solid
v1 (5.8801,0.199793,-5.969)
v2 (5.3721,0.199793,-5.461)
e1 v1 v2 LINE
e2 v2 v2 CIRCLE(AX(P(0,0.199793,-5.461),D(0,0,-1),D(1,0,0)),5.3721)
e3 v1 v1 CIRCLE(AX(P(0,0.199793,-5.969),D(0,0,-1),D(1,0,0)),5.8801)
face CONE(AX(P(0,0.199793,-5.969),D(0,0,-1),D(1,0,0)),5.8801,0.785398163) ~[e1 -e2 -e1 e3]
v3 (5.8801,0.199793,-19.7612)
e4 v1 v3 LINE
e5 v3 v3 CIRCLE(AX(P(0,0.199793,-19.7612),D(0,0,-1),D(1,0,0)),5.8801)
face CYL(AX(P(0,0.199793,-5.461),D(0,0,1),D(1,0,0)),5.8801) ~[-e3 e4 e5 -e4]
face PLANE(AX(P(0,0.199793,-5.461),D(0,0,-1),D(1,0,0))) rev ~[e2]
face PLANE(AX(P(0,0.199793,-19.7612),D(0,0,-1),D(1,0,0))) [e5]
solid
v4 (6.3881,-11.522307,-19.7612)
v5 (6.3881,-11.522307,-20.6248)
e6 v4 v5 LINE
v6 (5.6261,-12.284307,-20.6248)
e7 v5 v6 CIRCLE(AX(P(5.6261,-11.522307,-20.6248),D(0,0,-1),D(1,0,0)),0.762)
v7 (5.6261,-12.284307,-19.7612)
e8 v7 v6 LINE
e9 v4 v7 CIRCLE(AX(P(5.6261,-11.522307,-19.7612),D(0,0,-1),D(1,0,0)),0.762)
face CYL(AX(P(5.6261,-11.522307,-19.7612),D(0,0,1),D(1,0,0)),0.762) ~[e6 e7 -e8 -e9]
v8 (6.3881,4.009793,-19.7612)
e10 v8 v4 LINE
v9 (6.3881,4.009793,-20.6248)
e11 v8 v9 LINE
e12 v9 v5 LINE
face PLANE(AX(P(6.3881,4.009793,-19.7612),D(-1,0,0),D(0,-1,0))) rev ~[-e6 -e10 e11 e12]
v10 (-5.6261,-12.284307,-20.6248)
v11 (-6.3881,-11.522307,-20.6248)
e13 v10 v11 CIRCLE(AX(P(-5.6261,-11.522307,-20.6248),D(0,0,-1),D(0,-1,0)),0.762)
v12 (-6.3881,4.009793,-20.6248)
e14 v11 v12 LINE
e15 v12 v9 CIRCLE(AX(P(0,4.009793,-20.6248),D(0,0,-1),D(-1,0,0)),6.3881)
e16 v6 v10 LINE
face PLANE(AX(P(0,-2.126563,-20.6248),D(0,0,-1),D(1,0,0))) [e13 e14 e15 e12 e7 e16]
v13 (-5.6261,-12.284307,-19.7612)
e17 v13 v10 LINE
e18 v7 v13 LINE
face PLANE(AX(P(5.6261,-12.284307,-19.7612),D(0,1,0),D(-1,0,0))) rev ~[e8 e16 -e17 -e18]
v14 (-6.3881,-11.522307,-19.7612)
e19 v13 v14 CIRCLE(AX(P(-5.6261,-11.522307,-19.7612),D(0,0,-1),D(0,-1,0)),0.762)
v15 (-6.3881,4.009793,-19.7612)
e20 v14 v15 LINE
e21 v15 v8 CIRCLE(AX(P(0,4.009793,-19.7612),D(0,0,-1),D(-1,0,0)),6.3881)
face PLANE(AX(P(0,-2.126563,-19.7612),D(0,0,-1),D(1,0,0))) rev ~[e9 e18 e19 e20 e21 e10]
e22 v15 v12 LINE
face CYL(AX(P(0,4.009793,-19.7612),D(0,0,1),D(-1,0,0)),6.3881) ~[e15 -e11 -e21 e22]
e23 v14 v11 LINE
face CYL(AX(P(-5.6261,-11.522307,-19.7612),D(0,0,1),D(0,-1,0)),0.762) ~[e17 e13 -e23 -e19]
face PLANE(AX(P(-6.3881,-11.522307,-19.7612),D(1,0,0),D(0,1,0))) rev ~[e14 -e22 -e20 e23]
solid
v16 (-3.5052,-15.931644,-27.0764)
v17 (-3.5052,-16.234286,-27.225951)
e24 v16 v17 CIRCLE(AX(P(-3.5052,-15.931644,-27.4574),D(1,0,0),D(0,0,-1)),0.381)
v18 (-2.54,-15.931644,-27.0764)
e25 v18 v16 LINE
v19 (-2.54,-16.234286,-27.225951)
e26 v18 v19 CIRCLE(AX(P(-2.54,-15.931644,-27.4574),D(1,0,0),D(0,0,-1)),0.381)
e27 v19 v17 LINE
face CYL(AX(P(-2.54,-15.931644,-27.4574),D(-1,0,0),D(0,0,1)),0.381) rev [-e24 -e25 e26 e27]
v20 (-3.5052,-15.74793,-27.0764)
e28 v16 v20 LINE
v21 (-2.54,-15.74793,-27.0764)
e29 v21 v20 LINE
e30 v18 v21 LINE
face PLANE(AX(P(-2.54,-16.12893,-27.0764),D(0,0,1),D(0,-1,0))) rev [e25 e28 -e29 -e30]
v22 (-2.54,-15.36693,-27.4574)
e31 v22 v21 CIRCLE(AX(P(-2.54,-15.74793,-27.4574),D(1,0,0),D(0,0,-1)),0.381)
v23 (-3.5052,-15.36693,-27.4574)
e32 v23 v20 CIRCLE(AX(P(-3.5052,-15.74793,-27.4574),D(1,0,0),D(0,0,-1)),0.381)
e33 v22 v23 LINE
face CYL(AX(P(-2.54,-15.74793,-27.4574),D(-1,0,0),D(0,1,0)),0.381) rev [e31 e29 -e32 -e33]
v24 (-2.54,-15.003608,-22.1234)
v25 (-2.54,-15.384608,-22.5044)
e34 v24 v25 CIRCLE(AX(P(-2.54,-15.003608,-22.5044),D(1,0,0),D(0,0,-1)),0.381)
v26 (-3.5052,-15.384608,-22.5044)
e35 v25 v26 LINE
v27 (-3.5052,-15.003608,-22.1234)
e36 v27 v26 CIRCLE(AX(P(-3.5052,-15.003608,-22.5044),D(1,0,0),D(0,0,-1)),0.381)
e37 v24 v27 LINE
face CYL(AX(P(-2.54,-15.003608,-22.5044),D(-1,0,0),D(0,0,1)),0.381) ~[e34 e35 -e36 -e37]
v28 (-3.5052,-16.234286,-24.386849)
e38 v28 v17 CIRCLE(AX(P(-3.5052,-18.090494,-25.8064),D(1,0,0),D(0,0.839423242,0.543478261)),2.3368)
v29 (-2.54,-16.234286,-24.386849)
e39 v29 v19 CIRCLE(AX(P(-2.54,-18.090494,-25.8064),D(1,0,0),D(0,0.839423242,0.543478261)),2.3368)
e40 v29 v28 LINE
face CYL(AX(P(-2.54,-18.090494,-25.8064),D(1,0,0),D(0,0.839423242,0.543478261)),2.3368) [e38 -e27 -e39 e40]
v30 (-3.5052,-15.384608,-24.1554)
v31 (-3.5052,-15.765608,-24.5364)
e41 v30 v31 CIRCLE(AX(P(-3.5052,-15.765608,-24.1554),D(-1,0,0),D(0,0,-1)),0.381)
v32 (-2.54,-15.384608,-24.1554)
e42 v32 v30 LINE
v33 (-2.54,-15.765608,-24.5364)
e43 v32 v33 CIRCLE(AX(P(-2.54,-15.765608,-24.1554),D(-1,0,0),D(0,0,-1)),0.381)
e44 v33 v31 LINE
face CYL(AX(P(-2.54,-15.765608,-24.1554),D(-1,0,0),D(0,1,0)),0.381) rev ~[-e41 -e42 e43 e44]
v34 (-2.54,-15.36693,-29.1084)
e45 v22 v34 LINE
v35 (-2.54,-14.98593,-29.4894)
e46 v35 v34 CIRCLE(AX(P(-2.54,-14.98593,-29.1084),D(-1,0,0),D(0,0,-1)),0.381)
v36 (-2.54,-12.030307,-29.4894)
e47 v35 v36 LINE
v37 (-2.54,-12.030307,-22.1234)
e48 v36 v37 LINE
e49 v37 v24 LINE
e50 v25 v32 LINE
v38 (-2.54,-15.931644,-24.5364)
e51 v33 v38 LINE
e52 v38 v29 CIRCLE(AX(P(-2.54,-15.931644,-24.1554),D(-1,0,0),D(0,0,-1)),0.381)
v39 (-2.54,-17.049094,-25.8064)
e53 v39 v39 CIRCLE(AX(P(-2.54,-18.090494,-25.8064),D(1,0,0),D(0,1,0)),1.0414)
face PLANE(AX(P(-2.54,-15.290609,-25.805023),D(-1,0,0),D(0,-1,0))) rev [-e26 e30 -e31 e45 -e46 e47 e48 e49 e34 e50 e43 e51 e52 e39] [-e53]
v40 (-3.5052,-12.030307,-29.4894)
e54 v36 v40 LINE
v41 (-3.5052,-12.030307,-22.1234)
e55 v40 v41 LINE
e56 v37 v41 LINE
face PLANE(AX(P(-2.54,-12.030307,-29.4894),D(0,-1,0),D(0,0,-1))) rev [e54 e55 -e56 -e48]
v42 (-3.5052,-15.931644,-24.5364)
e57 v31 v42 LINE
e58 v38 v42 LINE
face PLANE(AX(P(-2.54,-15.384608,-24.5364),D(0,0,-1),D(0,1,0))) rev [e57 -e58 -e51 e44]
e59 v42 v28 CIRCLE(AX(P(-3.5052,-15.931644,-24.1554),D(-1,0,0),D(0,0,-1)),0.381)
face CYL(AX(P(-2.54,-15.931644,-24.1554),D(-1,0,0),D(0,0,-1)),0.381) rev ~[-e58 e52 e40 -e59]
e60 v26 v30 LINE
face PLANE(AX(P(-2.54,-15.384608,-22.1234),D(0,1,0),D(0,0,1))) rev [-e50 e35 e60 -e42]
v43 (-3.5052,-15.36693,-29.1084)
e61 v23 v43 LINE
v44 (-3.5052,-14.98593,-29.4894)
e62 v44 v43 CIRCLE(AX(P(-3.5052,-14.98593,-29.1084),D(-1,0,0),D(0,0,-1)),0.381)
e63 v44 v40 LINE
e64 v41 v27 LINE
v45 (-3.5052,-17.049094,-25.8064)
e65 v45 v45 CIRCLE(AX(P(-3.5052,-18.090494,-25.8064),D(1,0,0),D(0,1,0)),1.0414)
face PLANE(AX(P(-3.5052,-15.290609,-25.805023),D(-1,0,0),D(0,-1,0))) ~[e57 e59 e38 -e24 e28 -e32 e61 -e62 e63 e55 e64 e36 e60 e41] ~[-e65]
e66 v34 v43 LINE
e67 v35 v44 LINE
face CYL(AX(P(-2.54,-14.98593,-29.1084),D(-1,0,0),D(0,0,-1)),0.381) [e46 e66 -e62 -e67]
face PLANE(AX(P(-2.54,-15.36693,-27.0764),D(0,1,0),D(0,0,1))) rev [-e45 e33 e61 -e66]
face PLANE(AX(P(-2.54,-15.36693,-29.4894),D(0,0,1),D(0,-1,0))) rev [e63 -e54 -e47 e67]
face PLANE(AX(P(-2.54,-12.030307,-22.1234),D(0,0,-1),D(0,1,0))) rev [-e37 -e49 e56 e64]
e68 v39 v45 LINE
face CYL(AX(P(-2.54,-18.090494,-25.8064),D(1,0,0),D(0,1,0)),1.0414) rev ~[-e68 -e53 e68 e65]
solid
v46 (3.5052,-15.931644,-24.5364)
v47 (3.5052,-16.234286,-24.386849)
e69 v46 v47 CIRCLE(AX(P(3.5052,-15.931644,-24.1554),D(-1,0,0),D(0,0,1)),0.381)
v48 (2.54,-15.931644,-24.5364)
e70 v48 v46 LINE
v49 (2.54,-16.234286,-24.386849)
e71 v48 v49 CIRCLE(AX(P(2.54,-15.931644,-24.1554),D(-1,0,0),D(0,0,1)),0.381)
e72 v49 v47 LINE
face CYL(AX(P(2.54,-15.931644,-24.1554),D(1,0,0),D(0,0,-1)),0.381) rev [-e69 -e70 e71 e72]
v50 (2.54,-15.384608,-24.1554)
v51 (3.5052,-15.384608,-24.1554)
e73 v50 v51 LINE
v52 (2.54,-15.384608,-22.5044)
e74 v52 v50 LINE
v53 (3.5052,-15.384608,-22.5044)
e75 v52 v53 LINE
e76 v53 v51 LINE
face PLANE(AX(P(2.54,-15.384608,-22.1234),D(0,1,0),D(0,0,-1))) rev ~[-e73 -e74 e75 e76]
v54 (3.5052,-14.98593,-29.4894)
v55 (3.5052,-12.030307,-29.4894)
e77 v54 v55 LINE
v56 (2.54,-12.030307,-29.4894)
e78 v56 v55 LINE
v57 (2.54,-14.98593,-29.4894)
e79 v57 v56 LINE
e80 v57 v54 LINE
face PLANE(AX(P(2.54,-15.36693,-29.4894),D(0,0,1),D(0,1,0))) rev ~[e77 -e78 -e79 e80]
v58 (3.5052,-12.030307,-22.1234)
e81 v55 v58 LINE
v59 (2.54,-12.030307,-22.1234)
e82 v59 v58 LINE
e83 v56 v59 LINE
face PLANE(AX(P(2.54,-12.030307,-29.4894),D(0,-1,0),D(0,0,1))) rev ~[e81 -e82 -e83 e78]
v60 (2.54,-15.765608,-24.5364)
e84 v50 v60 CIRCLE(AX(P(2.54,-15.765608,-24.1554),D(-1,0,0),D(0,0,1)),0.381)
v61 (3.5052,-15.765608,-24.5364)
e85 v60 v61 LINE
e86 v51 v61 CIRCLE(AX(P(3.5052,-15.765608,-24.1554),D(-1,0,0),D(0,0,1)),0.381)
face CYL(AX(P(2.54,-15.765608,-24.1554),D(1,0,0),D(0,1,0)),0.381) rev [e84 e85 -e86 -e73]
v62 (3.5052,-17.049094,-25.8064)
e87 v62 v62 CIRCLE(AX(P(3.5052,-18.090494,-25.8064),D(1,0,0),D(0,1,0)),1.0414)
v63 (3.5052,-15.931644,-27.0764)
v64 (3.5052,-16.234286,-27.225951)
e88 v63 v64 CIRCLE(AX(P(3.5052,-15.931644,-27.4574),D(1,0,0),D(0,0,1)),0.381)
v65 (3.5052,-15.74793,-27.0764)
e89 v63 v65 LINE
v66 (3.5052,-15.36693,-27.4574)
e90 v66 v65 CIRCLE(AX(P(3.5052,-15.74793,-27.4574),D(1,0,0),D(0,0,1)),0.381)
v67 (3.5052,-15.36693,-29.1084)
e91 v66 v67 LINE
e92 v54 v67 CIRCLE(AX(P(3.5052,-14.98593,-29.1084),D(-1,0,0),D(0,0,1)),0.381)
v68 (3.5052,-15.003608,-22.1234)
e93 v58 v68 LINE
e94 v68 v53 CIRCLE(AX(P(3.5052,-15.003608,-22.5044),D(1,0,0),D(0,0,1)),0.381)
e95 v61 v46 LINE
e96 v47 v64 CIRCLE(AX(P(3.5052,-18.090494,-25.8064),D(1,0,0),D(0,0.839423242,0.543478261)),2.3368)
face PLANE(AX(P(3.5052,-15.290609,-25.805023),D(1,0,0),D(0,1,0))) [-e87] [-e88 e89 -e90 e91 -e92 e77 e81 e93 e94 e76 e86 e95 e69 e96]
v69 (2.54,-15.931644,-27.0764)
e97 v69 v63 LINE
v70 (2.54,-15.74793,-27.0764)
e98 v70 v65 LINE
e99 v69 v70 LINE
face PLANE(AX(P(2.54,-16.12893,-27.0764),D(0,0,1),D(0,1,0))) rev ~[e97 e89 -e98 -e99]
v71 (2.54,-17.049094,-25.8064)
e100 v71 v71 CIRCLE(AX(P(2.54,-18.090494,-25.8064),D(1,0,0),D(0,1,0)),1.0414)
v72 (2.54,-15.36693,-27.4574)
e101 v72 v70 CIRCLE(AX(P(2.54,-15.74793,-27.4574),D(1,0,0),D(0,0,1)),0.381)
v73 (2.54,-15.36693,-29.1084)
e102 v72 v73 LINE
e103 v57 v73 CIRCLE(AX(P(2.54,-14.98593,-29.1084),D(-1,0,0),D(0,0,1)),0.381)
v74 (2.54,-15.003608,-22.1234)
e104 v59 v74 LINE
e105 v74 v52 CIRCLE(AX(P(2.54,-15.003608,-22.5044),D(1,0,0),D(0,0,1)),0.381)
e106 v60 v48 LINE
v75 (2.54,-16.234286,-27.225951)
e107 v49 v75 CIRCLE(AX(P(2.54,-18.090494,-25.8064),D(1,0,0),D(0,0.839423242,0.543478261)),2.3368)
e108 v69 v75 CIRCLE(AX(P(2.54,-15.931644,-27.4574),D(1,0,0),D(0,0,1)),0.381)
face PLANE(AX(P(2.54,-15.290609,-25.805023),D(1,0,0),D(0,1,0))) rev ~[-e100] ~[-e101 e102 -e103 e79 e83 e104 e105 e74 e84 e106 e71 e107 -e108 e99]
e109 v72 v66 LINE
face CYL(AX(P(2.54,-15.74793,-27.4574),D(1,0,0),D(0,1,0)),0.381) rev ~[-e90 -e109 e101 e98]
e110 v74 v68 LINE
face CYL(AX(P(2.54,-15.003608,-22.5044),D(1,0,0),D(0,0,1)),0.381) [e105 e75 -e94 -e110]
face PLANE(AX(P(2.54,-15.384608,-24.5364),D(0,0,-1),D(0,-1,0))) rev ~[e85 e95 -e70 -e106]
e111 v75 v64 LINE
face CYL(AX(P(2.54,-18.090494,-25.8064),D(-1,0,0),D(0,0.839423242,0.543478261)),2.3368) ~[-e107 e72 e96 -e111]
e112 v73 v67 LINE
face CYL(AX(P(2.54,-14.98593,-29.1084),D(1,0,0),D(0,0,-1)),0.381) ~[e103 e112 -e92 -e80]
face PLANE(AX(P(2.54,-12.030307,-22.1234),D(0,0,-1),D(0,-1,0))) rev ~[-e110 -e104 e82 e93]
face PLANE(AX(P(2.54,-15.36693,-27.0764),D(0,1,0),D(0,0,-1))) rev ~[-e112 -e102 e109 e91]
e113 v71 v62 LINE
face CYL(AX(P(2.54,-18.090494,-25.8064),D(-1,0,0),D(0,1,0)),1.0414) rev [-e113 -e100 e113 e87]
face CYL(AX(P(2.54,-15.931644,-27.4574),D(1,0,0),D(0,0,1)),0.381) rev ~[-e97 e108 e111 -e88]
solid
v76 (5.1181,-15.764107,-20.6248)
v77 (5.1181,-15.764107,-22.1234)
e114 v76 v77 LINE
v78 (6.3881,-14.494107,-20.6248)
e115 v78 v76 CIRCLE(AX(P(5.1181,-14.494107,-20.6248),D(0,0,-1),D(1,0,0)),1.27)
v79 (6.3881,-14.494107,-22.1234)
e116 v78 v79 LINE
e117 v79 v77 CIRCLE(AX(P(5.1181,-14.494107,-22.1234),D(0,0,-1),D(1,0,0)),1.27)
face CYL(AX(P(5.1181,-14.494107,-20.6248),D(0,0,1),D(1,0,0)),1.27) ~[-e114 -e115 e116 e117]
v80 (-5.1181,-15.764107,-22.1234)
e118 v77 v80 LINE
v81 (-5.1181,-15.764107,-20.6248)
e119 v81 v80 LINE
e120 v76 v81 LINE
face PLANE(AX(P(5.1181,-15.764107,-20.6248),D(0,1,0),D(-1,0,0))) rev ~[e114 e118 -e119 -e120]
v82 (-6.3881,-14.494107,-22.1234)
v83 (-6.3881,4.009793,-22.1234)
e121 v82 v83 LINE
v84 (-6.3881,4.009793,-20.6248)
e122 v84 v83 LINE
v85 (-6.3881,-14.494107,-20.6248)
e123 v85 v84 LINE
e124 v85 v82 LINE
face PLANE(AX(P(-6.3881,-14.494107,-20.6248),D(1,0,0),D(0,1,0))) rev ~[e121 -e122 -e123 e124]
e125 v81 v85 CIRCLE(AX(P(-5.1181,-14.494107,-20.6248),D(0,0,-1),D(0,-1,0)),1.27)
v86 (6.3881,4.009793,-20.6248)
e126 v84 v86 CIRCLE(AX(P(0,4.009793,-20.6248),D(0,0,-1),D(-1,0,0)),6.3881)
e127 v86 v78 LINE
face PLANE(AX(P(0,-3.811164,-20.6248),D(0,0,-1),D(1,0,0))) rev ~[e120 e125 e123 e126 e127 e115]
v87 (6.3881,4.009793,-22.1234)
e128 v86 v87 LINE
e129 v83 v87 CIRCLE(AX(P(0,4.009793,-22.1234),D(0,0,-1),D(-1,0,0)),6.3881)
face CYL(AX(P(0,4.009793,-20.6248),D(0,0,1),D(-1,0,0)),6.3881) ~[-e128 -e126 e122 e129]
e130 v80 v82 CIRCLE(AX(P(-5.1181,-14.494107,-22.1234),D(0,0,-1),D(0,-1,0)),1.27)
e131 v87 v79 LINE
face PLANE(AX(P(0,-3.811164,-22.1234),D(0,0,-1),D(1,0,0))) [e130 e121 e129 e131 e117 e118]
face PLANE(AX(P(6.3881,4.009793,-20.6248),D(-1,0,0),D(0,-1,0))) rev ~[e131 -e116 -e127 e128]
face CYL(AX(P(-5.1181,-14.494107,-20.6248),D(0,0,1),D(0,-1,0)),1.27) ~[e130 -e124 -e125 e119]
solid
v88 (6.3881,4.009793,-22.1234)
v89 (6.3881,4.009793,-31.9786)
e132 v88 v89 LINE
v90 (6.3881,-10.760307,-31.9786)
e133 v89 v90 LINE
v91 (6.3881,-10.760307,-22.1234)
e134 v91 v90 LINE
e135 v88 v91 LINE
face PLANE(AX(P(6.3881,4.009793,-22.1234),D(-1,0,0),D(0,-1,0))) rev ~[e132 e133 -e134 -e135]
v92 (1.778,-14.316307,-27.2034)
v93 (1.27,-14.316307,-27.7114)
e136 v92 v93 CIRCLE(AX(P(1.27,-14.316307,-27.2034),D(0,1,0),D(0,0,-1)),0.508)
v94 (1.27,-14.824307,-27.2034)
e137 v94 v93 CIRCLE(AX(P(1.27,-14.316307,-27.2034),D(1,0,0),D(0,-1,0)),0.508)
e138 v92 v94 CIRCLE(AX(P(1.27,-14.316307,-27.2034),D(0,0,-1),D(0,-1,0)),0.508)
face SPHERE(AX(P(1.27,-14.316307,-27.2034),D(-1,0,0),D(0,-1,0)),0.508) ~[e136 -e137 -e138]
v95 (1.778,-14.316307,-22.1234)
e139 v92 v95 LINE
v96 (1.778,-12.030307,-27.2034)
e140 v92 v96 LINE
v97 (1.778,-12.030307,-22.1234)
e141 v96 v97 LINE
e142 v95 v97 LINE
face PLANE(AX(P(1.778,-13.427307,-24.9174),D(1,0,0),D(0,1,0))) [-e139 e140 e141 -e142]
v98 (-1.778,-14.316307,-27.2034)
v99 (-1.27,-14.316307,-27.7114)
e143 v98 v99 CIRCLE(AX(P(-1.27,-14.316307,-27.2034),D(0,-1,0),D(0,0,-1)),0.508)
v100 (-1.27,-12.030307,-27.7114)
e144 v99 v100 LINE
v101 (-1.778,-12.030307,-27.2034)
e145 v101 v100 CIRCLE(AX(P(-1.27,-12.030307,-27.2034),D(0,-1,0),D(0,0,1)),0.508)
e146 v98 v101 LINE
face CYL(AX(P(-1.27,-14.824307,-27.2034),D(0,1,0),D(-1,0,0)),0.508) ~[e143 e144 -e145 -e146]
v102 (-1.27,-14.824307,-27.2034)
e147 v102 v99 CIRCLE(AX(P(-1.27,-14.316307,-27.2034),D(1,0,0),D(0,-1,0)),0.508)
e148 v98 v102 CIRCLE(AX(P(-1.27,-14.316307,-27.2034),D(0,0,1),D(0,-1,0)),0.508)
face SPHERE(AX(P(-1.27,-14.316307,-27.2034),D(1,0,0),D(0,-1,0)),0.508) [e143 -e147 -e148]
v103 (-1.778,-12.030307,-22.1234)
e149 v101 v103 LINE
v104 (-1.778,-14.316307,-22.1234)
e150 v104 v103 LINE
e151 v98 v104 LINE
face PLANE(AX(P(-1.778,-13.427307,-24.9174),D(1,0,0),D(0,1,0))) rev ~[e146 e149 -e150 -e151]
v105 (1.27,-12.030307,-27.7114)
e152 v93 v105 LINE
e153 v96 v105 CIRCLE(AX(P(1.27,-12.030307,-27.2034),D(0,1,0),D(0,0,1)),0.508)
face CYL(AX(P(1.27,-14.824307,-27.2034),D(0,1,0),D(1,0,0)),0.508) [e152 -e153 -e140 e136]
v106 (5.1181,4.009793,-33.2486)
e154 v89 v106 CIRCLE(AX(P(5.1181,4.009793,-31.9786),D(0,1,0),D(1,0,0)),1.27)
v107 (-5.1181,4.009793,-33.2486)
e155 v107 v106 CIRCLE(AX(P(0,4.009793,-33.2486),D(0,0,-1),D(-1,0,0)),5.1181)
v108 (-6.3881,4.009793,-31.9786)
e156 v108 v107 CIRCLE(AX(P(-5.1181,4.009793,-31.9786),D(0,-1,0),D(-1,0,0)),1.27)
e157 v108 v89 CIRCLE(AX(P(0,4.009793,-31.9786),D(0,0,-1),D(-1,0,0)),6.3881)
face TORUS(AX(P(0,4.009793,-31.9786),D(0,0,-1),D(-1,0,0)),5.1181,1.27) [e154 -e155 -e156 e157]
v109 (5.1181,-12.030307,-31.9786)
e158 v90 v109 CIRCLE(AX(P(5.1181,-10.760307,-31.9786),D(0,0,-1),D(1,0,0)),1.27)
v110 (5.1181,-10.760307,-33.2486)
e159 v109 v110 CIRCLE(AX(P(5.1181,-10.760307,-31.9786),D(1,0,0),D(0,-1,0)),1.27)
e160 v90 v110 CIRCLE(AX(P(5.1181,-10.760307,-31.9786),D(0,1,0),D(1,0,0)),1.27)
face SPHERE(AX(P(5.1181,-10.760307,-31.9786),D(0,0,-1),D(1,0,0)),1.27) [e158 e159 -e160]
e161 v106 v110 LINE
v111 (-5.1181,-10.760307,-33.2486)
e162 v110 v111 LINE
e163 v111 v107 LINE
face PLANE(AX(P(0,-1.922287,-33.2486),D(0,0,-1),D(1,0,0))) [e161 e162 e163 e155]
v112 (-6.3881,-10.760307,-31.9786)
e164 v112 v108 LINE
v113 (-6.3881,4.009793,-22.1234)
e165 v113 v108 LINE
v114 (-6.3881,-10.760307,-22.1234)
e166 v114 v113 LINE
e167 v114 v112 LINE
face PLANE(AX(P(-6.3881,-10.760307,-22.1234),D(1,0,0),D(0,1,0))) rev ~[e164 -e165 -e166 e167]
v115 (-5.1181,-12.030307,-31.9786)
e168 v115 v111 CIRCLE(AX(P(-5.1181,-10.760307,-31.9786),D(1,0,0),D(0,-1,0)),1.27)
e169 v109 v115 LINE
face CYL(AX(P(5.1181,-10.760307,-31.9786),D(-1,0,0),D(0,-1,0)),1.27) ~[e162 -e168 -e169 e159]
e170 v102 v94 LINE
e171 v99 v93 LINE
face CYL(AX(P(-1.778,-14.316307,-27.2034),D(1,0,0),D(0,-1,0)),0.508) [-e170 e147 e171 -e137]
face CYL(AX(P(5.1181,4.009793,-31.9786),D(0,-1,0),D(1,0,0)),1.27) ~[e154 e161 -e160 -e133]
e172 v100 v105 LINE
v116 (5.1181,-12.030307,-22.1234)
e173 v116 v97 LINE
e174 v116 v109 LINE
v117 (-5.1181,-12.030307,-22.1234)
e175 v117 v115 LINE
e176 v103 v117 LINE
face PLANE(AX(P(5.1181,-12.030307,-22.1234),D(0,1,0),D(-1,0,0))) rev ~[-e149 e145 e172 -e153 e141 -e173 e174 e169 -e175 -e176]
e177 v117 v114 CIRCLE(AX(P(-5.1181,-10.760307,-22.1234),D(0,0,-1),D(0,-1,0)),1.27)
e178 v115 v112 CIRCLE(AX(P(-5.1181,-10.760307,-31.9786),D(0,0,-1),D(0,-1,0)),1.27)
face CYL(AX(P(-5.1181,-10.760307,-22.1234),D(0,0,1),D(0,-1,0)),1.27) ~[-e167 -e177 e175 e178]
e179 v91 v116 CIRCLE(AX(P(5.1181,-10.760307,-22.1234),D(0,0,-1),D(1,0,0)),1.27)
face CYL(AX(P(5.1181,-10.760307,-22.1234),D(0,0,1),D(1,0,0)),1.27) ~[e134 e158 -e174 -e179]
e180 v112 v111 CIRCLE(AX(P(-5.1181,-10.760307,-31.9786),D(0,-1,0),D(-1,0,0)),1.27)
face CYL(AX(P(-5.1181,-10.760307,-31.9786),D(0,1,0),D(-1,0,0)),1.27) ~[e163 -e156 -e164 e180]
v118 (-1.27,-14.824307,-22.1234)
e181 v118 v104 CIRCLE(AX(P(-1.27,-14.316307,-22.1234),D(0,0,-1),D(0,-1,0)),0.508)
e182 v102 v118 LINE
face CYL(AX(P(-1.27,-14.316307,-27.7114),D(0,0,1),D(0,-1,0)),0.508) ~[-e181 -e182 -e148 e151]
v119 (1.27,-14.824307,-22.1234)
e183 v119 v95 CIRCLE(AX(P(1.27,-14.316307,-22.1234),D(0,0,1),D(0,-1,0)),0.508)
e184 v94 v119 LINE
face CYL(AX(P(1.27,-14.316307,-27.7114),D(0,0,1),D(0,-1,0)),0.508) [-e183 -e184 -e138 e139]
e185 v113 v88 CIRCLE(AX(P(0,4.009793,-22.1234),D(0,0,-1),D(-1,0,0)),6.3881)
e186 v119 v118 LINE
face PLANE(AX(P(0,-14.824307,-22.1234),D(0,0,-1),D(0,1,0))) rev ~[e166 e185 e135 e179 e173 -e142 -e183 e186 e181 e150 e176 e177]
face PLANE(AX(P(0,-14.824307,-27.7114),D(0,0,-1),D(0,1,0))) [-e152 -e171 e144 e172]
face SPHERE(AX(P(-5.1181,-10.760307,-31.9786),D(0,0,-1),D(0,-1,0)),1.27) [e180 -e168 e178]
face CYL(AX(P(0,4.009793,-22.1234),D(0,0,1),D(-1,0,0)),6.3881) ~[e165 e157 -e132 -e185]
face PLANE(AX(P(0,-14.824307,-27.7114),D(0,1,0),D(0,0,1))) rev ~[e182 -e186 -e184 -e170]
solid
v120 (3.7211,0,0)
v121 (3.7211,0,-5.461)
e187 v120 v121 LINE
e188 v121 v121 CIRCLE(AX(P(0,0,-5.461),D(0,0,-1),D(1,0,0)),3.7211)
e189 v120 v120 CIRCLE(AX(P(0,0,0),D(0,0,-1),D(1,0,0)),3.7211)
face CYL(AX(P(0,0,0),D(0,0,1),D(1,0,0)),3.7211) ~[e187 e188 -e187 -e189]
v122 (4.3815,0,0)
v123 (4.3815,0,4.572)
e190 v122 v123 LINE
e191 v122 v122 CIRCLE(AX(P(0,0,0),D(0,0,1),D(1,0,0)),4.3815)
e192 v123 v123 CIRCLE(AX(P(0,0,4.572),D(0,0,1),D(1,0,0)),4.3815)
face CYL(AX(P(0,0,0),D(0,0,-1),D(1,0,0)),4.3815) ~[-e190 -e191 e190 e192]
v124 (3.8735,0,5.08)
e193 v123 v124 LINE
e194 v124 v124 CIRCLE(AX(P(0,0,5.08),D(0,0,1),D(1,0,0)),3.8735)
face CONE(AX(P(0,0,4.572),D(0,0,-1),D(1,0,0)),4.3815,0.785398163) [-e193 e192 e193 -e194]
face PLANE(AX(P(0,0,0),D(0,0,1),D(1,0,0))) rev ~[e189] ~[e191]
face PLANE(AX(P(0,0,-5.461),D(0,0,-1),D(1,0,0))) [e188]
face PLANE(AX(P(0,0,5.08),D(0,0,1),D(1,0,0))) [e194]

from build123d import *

# Parameters (mm, degrees)
F0_R           = 4.3815
F1_DEPTH       = 5.08
F2_R           = 3.7211
F3_DEPTH       = 5.461
F4_R           = 5.8801
F5_DEPTH       = 14.3002
F6_SIZE        = 0.508
F6_2_SIZE      = 0.508
F8_DEPTH       = 0.8636
F10_DEPTH      = 1.4986
F12_DEPTH      = 11.1252
F13_R          = 1.27
F14_W          = 2.794
F14_H          = 5.588
F15_DEPTH      = 1.778
F15_DEPTH_BACK = 1.778
F16_R          = 0.508
F18_R          = 1.0414
F19_DEPTH      = 0.9652
F21_R          = 0.381
F21_2_R        = 0.381


with BuildPart() as f1:
    # F0 (on Top) → F1 (new body)
    with BuildSketch(Plane.XY):
        Circle(F0_R)
    extrude(amount=F1_DEPTH)

    # F2 (on face) → F3 (join)
    with BuildSketch(Plane(origin=(0, 0, 0), x_dir=(1, 0, 0), z_dir=(0, 0, -1))):
        Circle(F2_R)
    extrude(amount=F3_DEPTH)

    # F6
    f6_edges = [f1.edges().sort_by_distance(p)[0] for p in [
        (-4.3815, 0, 5.08),
    ]]
    chamfer(f6_edges, length=F6_SIZE)


with BuildPart() as f5:
    # F4 (on face) → F5 (new body)
    with BuildSketch(Plane(origin=(0, 0, -5.461), x_dir=(1, 0, 0), z_dir=(0, 0, -1))):
        with Locations((0, -0.1997926142)):
            Circle(F4_R)
    extrude(amount=F5_DEPTH)

    # F6#2
    f6_2_edges = [f5.edges().sort_by_distance(p)[0] for p in [
        (-5.8801, 0.199793, -5.461),
    ]]
    chamfer(f6_2_edges, length=F6_2_SIZE)


with BuildPart() as f8:
    # F7 (on face) → F8 (new body)
    with BuildSketch(Plane(origin=(0, 0, -19.7612), x_dir=(1, 0, 0), z_dir=(0, 0, -1))):
        with BuildLine():
            Line((5.6261, 12.2843073858), (-5.6261, 12.2843073858))
            ThreePointArc((-5.6261, 12.2843073858), (-6.1649153673, 12.061122753), (-6.3881, 11.5223073858))
            Line((-6.3881, 11.5223073858), (-6.3881, -4.0097926142))
            ThreePointArc((-6.3881, -4.0097926142), (0, -10.3978926142), (6.3881, -4.0097926142))
            Line((6.3881, -4.0097926142), (6.3881, 11.5223073858))
            ThreePointArc((6.3881, 11.5223073858), (6.1649153673, 12.061122753), (5.6261, 12.2843073858))
        make_face()
    extrude(amount=F8_DEPTH)


with BuildPart() as f10:
    # F9 (on face) → F10 (new body)
    with BuildSketch(Plane(origin=(0, 0, -20.6248), x_dir=(1, 0, 0), z_dir=(0, 0, -1))):
        with BuildLine():
            Line((-6.3881, 11.5223073858), (-6.3881, -4.0097926142))
            ThreePointArc((-6.3881, -4.0097926142), (0, -10.3978926142), (6.3881, -4.0097926142))
            Line((6.3881, -4.0097926142), (6.3881, 11.5223073858))
            Line((6.3881, 11.5223073858), (6.3881, 14.4941073858))
            ThreePointArc((6.3881, 14.4941073858), (6.0161256121, 15.3921329979), (5.1181, 15.7641073858))
            Line((5.1181, 15.7641073858), (-5.1181, 15.7641073858))
            ThreePointArc((-5.1181, 15.7641073858), (-6.0161256121, 15.3921329979), (-6.3881, 14.4941073858))
            Line((-6.3881, 14.4941073858), (-6.3881, 11.5223073858))
        make_face()
    extrude(amount=F10_DEPTH)


with BuildPart() as f12:
    # F11 (on face) → F12 (new body)
    with BuildSketch(Plane(origin=(0, 0, -22.1234), x_dir=(1, 0, 0), z_dir=(0, 0, -1))):
        with BuildLine():
            Line((-6.3881, 10.7603073858), (-6.3881, -4.0097926142))
            ThreePointArc((-6.3881, -4.0097926142), (0, -10.3978926142), (6.3881, -4.0097926142))
            Line((6.3881, -4.0097926142), (6.3881, 10.7603073858))
            ThreePointArc((6.3881, 10.7603073858), (6.0161256121, 11.6583329979), (5.1181, 12.0303073858))
            Line((5.1181, 12.0303073858), (-5.1181, 12.0303073858))
            ThreePointArc((-5.1181, 12.0303073858), (-6.0161256121, 11.6583329979), (-6.3881, 10.7603073858))
        make_face()
    extrude(amount=F12_DEPTH)

    # F13
    f13_edges = [f12.edges().sort_by_distance(p)[0] for p in [
        (-6.3881, -3.375257, -33.2486),
    ]]
    fillet(f13_edges, radius=F13_R)

    # F14 (on Right) → F15 (join, two sides)
    with BuildSketch(Plane.YZ) as f15_sk:
        with Locations((-13.4273073858, -24.9174)):
            Rectangle(F14_W, F14_H)
    extrude(amount=F15_DEPTH)
    extrude(f15_sk.sketch, amount=-F15_DEPTH_BACK)

    # F16
    f16_edges = [f12.edges().sort_by_distance(p)[0] for p in [
        (0, -14.824307, -27.7114),
        (-1.778, -14.824307, -24.9174),
        (1.778, -14.824307, -24.9174),
        (-1.778, -13.427307, -27.7114),
        (1.778, -13.427307, -27.7114),
    ]]
    fillet(f16_edges, radius=F16_R)


with BuildPart() as f19:
    # F18 (on offset) → F19 (new body)
    with BuildSketch(Plane.YZ.offset(2.54)):
        with BuildLine():
            Line((-12.0303073858, -29.4894), (-12.0303073858, -22.1234))
            Line((-12.0303073858, -22.1234), (-15.3846076557, -22.1234))
            Line((-15.3846076557, -22.1234), (-15.3846076557, -24.5364))
            Line((-15.3846076557, -24.5364), (-16.1289302219, -24.5364))
            ThreePointArc((-16.1289302219, -24.5364), (-20.4272944549, -25.8064), (-16.1289302219, -27.0764))
            Line((-16.1289302219, -27.0764), (-15.3669302219, -27.0764))
            Line((-15.3669302219, -27.0764), (-15.3669302219, -29.4894))
            Line((-15.3669302219, -29.4894), (-12.0303073858, -29.4894))
        make_face()
        with Locations((-18.0904944549, -25.8064)):
            Circle(F18_R, mode=Mode.SUBTRACT)
    extrude(amount=F19_DEPTH)


with BuildPart() as f20_1:
    # F20: instance of F19
    add(f19.part.mirror(Plane.YZ))

    # F21#2
    f21_2_edges = [f20_1.edges().sort_by_distance(p)[0] for p in [
        (-3.0226, -15.36693, -29.4894),
        (-3.0226, -15.36693, -27.0764),
        (-3.0226, -16.12893, -27.0764),
        (-3.0226, -15.384608, -22.1234),
        (-3.0226, -15.384608, -24.5364),
        (-3.0226, -16.12893, -24.5364),
    ]]
    fillet(f21_2_edges, radius=F21_2_R)


with BuildPart() as f19_1:
    add(f19.part)

    # F21
    f21_edges = [f19_1.edges().sort_by_distance(p)[0] for p in [
        (3.0226, -15.36693, -29.4894),
        (3.0226, -15.36693, -27.0764),
        (3.0226, -16.12893, -27.0764),
        (3.0226, -15.384608, -24.5364),
        (3.0226, -16.12893, -24.5364),
        (3.0226, -15.384608, -22.1234),
    ]]
    fillet(f21_edges, radius=F21_R)


solid = Compound([f1.part, f5.part, f8.part, f10.part, f12.part, f20_1.part, f19_1.part])
